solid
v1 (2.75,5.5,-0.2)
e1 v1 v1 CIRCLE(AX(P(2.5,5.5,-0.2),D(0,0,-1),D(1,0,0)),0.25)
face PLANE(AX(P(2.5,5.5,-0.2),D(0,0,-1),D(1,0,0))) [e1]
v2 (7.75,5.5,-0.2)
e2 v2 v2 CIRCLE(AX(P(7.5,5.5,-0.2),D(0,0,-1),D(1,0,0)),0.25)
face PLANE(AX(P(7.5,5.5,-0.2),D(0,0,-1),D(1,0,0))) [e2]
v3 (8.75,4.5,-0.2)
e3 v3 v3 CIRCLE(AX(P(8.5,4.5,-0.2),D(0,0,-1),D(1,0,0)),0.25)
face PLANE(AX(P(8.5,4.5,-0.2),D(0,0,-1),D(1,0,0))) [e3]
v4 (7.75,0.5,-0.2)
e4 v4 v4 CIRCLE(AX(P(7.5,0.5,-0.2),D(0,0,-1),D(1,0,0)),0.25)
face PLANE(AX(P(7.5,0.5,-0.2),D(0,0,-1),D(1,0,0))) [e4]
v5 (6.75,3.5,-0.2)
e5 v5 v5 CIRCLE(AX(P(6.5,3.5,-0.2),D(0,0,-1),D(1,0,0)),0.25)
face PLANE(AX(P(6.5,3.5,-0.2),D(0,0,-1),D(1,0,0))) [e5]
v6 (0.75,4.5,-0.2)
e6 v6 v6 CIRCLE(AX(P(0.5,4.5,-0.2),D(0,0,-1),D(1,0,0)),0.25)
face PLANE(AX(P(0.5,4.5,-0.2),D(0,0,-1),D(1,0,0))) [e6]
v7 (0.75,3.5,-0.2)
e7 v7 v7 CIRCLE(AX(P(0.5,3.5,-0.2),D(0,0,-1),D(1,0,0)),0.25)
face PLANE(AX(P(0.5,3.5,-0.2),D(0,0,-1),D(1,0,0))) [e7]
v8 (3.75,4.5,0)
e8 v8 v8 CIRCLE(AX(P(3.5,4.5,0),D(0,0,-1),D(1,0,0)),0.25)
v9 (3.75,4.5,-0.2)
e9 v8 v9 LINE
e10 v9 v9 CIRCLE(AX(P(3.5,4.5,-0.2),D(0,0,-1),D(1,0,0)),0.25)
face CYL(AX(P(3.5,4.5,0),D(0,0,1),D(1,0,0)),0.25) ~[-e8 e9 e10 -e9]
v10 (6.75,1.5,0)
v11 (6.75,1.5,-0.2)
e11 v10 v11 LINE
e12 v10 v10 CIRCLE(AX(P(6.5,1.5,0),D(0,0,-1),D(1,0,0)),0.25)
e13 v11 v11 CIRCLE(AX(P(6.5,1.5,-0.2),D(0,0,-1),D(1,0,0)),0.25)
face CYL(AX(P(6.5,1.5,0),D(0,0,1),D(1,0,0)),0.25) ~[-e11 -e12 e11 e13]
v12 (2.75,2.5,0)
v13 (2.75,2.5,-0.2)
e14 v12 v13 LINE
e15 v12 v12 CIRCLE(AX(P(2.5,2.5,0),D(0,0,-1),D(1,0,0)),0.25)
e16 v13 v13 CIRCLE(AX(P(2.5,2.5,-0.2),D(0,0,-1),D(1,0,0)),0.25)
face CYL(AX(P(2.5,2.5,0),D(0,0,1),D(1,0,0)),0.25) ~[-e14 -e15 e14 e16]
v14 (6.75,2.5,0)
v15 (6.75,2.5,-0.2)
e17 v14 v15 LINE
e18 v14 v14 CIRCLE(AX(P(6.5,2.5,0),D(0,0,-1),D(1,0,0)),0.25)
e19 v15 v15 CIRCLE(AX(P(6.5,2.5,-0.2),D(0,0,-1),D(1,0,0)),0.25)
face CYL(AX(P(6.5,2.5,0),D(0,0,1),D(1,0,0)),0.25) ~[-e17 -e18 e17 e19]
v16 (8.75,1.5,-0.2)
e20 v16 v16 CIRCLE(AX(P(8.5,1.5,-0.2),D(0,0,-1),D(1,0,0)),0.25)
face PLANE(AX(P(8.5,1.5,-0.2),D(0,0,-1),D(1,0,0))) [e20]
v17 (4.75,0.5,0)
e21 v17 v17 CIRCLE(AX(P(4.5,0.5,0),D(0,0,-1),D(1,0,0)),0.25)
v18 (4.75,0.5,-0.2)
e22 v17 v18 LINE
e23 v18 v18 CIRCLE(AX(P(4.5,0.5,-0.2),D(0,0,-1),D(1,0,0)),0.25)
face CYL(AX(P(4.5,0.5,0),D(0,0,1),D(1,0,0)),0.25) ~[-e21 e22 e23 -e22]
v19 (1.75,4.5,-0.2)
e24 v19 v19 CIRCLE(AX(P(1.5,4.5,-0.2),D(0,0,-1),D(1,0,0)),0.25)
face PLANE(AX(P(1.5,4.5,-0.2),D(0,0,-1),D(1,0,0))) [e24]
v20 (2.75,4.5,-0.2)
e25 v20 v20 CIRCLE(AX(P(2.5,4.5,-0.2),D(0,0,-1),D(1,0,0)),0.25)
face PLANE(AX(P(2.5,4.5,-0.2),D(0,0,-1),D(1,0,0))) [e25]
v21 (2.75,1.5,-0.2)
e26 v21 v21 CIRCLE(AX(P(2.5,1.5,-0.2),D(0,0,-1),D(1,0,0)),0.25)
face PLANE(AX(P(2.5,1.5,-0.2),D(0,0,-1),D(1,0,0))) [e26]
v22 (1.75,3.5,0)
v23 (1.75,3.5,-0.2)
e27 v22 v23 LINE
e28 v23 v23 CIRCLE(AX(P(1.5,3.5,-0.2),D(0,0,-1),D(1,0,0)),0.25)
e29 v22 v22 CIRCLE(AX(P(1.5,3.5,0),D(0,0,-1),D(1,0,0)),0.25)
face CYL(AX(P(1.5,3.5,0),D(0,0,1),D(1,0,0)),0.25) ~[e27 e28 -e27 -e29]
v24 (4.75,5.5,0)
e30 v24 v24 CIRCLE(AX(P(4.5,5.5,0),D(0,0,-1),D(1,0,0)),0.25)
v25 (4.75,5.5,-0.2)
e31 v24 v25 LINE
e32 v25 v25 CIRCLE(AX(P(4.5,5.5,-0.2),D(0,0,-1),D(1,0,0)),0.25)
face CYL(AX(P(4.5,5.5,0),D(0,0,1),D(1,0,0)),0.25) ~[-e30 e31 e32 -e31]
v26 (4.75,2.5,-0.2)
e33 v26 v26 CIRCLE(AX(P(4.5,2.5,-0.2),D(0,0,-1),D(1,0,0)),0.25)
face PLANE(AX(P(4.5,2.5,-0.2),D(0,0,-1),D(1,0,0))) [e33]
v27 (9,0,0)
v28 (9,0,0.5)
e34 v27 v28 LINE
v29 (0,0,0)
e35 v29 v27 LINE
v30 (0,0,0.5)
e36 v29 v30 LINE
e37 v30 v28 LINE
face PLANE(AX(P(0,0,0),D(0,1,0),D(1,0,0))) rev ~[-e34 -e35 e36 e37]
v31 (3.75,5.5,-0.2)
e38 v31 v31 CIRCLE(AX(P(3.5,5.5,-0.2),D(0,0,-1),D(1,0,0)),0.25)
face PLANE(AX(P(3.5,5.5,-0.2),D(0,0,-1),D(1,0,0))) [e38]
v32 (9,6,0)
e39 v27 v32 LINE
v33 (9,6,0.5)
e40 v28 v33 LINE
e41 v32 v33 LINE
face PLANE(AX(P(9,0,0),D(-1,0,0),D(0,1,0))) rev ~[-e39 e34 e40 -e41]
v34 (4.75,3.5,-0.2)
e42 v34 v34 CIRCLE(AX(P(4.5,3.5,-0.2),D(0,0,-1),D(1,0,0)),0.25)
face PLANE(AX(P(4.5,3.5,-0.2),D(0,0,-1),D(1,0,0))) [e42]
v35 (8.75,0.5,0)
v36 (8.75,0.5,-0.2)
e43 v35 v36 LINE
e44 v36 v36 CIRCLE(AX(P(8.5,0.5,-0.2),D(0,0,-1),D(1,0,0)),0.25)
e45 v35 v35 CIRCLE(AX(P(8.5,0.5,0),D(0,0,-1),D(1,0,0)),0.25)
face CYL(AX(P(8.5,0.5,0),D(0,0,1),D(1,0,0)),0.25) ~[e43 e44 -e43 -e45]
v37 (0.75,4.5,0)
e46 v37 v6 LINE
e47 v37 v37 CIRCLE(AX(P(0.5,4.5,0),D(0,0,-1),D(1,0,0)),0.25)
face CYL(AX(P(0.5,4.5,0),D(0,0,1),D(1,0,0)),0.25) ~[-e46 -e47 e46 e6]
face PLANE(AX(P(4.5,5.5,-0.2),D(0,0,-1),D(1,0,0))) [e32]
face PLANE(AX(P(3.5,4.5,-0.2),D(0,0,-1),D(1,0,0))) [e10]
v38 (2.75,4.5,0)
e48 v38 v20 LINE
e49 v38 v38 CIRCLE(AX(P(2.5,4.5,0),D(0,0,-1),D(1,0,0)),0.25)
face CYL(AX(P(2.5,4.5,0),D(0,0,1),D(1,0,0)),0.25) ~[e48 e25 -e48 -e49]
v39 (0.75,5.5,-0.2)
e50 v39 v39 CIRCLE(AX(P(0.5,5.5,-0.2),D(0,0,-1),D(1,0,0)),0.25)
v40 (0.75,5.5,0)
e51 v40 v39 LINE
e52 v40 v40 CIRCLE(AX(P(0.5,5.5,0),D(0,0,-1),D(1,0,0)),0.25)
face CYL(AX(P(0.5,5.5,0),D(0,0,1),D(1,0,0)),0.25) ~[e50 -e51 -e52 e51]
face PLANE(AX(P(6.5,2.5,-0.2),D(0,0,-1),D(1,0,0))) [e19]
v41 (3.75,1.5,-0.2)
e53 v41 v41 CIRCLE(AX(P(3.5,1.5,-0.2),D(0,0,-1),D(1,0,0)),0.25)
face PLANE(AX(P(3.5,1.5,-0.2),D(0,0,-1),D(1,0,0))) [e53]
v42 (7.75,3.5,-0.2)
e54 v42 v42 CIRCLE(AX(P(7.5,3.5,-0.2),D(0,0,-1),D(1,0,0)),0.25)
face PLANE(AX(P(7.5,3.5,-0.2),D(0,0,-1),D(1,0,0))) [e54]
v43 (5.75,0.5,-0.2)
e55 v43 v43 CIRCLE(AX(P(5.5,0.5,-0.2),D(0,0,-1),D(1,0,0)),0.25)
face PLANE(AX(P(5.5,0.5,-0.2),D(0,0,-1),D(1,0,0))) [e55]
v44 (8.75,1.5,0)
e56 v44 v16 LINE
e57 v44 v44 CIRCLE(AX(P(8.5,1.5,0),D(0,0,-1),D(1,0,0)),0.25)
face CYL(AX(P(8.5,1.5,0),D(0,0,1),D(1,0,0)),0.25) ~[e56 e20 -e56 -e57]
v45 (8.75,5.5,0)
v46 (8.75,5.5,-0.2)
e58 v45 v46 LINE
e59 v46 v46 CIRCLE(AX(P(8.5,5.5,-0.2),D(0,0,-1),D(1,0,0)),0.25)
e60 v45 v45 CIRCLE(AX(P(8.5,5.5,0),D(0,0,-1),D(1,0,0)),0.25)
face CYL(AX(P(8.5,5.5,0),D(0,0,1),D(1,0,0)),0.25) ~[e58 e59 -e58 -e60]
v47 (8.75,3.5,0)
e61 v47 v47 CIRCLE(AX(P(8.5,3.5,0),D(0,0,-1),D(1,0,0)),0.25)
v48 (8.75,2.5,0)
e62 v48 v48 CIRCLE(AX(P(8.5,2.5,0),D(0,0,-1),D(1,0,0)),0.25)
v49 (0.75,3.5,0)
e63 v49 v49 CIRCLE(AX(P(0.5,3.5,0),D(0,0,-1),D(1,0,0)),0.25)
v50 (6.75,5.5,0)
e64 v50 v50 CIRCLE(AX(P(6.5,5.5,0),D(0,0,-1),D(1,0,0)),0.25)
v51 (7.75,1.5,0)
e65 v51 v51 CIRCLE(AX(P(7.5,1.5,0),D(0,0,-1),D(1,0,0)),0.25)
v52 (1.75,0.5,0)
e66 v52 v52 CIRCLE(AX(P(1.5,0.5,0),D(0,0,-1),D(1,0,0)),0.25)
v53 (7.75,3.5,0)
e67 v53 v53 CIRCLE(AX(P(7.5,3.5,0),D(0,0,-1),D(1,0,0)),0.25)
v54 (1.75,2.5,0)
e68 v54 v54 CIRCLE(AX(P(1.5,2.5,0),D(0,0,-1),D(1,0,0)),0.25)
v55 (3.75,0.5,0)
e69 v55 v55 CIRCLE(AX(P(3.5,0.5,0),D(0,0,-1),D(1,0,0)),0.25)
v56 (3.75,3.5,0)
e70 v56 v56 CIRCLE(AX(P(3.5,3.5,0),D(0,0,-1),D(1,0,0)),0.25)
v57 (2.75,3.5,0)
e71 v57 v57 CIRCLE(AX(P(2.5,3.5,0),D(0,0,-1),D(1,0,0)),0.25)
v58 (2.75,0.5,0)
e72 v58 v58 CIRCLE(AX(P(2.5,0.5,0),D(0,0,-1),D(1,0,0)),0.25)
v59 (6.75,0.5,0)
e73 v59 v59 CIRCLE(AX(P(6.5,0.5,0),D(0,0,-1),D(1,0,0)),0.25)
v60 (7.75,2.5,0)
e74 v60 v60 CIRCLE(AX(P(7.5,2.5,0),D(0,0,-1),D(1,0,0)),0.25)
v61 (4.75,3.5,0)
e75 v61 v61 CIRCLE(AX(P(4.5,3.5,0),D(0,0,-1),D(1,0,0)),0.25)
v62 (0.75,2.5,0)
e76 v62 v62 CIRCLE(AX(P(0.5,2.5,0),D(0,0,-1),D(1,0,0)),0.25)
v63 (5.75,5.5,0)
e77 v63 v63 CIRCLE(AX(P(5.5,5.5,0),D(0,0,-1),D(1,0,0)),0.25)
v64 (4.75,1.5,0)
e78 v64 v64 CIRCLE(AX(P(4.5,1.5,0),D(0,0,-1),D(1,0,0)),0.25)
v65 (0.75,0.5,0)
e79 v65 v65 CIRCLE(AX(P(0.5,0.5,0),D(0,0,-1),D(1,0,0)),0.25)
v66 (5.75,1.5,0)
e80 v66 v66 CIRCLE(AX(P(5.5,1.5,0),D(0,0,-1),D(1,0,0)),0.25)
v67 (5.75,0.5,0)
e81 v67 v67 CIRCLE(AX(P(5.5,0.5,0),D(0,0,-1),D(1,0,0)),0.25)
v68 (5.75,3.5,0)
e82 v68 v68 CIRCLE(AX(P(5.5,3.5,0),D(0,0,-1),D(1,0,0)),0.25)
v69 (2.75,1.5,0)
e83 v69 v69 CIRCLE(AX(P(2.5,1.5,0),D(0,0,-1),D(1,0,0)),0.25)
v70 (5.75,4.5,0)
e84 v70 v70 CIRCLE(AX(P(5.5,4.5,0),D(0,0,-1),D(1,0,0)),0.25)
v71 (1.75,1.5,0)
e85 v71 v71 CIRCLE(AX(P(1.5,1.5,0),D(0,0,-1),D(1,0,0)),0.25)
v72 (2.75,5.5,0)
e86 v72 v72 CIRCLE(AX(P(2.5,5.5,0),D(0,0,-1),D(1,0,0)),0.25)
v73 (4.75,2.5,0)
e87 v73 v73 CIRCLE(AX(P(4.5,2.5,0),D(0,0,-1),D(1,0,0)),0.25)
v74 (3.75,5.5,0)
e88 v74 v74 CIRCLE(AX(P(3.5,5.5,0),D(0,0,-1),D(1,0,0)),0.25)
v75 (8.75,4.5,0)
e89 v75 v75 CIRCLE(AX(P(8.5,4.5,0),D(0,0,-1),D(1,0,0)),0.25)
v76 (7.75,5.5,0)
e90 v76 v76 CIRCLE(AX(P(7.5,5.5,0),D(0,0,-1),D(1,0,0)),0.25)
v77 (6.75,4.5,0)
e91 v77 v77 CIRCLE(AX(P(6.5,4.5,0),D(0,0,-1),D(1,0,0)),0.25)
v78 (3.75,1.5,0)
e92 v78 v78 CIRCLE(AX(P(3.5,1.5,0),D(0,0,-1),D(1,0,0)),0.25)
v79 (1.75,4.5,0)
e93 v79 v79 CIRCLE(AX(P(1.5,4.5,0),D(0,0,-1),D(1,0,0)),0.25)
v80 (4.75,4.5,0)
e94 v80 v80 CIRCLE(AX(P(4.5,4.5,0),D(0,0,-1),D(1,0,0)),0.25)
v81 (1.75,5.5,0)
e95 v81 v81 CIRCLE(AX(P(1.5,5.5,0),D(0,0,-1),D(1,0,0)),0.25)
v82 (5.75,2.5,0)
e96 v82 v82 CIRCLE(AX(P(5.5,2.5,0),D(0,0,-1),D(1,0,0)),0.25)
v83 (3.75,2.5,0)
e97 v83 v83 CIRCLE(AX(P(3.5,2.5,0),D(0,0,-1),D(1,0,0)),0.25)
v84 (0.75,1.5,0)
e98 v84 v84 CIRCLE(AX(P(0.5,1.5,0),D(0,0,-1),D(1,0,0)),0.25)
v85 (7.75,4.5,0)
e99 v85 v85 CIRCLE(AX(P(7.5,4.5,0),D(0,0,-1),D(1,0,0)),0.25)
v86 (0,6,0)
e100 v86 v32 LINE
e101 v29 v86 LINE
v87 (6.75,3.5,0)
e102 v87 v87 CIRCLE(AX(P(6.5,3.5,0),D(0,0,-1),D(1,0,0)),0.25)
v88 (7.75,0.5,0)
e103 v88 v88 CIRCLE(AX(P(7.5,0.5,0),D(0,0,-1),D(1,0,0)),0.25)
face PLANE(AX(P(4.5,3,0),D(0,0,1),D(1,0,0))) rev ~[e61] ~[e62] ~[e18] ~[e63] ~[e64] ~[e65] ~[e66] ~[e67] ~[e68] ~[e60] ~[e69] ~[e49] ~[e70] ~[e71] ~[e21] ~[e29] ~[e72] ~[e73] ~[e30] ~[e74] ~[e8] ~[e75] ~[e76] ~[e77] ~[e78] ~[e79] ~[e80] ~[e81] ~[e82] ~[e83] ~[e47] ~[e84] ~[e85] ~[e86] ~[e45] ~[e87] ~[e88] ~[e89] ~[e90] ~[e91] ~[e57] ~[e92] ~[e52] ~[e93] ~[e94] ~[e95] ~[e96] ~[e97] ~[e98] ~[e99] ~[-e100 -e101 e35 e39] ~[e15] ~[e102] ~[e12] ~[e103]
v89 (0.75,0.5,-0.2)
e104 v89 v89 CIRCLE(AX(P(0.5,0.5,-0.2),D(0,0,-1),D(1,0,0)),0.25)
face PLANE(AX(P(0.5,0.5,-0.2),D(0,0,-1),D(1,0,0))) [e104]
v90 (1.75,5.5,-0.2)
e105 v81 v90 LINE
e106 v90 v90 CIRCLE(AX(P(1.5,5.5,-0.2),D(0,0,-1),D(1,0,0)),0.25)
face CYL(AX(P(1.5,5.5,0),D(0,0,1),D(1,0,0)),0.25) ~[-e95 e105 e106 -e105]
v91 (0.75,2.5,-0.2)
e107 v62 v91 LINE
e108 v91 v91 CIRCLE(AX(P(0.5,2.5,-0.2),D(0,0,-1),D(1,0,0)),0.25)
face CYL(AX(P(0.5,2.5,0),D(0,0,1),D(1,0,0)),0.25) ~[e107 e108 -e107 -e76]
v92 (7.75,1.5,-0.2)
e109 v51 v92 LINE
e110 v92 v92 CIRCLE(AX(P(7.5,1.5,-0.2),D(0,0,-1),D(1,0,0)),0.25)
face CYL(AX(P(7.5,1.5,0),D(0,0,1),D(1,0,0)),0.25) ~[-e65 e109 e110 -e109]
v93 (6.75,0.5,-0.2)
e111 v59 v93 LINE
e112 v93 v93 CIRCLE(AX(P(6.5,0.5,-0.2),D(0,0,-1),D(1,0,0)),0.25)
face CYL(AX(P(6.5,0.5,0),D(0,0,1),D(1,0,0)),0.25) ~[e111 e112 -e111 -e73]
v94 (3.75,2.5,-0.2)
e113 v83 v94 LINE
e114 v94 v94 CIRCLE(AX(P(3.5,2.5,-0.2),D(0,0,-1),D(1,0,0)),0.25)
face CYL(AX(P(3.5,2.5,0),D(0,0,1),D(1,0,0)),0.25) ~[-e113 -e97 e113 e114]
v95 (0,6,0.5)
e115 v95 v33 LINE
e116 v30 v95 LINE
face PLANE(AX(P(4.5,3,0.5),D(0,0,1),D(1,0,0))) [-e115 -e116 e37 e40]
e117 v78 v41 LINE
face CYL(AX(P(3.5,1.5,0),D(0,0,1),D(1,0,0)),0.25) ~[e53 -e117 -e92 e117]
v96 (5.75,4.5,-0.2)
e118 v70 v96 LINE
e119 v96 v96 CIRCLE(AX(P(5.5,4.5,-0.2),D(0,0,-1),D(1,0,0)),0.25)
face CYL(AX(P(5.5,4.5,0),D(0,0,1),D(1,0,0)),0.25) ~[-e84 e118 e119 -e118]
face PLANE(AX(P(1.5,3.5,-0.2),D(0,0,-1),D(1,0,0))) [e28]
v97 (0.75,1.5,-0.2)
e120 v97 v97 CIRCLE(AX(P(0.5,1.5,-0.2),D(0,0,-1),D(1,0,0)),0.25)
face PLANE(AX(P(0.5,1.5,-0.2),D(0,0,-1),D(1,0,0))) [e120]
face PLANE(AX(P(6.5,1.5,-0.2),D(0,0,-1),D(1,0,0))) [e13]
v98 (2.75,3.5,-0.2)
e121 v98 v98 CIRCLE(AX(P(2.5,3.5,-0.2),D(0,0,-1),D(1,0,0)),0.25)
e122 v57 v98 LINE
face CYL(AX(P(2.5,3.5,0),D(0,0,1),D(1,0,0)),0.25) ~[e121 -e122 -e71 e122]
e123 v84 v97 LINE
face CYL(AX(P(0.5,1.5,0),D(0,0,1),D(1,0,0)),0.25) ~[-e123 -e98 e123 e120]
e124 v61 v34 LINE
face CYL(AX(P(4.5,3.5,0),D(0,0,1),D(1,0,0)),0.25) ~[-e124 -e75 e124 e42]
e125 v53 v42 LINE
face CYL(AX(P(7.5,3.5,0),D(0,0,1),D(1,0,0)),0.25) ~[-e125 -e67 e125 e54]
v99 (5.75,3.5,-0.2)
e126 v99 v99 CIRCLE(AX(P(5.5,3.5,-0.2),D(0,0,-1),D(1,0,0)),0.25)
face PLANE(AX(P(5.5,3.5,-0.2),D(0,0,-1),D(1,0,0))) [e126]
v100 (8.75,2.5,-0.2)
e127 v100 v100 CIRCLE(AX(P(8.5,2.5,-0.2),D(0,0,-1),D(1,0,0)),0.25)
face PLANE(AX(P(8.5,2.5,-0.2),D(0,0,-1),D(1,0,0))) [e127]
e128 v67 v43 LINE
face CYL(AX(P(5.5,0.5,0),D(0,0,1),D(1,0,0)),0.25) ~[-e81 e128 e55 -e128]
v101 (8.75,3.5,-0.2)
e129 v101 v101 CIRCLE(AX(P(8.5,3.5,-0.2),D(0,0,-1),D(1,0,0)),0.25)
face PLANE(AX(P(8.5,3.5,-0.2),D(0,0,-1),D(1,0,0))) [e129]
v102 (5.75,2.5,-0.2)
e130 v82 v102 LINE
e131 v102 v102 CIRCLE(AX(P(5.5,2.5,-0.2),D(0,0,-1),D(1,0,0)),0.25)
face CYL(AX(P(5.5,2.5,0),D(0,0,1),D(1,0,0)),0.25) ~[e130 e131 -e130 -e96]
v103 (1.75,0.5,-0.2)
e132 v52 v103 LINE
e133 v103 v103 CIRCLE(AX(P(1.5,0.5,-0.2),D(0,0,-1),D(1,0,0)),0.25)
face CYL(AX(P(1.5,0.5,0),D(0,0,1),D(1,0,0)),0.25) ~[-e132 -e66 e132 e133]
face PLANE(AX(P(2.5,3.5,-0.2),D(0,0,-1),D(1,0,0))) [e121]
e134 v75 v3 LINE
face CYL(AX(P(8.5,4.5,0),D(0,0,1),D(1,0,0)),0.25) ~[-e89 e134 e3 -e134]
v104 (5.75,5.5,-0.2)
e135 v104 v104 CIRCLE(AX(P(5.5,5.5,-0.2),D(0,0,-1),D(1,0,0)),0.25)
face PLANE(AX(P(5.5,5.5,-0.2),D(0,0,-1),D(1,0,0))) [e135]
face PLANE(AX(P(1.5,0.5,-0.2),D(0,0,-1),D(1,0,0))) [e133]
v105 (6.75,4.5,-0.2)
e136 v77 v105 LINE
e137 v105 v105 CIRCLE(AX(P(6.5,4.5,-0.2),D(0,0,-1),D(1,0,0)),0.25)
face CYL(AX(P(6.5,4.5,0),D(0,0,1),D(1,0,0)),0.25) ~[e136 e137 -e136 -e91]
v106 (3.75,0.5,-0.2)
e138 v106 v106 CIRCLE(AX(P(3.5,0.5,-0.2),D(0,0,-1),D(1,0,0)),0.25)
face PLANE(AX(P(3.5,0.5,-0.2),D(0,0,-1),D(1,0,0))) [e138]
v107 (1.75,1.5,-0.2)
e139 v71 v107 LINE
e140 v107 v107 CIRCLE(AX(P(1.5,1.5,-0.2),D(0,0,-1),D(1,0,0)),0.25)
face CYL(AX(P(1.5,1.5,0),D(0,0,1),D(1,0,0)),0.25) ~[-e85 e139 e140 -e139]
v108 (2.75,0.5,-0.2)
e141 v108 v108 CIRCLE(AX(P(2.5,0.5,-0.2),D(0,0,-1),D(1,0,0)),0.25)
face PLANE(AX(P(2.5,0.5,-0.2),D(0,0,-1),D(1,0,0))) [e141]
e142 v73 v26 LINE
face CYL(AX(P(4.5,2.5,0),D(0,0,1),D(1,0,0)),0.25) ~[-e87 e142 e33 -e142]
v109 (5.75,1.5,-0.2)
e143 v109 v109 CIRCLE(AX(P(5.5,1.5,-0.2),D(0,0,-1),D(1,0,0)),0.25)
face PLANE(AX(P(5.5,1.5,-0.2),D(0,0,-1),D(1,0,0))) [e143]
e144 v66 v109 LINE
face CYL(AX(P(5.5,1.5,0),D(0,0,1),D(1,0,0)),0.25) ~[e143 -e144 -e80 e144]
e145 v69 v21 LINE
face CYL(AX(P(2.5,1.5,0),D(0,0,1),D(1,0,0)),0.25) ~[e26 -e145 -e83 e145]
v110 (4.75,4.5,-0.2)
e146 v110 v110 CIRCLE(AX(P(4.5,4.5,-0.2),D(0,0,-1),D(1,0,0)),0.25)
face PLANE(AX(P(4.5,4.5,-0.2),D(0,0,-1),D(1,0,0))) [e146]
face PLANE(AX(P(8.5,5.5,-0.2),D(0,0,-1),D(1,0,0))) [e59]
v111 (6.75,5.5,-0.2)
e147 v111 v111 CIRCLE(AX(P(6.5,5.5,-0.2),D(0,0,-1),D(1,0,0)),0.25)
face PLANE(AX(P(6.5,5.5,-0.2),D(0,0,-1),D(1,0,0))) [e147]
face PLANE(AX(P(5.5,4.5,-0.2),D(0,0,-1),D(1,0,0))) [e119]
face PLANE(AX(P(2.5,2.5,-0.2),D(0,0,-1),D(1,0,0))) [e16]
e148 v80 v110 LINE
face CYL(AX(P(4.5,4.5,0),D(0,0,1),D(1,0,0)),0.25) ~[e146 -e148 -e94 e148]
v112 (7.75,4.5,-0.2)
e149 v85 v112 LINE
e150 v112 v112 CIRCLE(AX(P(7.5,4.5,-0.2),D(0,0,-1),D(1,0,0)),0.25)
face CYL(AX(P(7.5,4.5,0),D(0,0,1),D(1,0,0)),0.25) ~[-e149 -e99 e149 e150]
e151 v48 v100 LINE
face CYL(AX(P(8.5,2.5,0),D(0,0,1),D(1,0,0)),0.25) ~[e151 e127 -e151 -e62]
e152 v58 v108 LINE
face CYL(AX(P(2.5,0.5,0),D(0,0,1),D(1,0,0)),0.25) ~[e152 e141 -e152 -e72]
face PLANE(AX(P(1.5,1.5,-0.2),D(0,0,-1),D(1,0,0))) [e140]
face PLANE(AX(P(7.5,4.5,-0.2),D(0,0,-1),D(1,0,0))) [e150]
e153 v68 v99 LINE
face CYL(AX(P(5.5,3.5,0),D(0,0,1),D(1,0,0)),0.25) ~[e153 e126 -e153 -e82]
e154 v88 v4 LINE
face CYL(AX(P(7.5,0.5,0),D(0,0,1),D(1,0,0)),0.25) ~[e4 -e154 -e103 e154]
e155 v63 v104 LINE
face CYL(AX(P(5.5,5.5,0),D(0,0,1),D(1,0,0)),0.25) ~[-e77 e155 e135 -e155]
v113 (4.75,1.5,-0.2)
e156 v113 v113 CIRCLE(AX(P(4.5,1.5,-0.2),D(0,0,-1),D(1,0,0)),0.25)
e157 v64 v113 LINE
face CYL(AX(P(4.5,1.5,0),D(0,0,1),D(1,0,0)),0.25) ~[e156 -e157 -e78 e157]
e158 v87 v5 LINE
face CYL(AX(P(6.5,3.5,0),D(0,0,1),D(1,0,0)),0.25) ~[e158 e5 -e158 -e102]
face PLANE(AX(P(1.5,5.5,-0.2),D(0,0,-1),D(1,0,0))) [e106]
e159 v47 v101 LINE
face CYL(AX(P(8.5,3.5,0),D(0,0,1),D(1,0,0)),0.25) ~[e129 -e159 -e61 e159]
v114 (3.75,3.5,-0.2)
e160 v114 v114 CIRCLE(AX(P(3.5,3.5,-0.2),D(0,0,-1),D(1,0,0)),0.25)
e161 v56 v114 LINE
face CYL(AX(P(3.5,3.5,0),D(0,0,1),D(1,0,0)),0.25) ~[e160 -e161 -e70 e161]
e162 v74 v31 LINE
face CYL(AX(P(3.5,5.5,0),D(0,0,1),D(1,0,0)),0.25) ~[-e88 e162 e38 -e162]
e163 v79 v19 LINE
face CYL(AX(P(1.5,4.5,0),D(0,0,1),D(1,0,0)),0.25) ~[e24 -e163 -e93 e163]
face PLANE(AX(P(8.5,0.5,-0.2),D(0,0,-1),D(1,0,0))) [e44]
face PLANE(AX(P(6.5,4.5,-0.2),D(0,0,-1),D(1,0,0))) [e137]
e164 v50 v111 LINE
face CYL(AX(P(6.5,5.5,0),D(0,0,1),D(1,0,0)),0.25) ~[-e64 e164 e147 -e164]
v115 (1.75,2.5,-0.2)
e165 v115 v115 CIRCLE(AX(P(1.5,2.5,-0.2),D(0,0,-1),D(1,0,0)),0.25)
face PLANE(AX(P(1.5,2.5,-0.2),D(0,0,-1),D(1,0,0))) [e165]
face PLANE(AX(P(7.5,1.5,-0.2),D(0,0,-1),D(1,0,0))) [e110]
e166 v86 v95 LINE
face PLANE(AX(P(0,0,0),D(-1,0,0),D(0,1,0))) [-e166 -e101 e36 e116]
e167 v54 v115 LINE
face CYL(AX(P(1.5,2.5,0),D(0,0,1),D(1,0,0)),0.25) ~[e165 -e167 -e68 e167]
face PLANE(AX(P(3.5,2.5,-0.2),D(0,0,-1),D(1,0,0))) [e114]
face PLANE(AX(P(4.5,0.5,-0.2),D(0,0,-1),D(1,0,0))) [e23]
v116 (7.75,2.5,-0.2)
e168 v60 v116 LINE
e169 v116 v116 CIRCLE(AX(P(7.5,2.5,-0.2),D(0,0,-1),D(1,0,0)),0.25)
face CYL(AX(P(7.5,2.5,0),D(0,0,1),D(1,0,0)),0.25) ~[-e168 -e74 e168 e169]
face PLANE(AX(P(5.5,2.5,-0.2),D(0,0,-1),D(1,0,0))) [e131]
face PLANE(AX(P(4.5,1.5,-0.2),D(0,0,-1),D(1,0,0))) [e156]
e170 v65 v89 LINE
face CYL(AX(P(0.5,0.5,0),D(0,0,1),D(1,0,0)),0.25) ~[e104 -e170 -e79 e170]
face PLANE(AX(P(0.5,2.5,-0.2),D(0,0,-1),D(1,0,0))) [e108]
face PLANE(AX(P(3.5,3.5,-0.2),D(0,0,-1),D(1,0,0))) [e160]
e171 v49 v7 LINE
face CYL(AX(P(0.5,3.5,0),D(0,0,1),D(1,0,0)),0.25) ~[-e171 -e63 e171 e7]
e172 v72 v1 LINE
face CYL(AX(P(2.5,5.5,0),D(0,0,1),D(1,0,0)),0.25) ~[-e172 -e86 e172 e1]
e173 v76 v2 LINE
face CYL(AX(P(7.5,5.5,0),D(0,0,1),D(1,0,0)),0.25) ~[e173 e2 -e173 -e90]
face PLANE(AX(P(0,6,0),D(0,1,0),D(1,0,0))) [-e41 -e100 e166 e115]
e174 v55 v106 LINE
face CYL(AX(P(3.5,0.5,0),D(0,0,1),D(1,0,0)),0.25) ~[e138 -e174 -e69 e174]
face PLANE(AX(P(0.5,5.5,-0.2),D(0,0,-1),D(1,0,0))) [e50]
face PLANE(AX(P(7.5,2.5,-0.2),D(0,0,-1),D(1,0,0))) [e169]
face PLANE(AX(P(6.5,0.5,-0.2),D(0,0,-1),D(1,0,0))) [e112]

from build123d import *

# Parameters (mm, degrees)
F0_W     = 9
F0_H     = 6
F1_DEPTH = 0.5
F2_R     = 0.25
F3_DEPTH = 0.2


with BuildPart() as f1:
    # F0 (on Top) → F1 (new body)
    with BuildSketch(Plane.XY):
        with Locations((4.5, 3)):
            Rectangle(F0_W, F0_H)
    extrude(amount=F1_DEPTH)

    # F2 (on face) → F3 (join)
    with BuildSketch(Plane(origin=(0, 0, 0), x_dir=(1, 0, 0), z_dir=(0, 0, -1))):
        with Locations((0.5, -0.5)):
            Circle(F2_R)
        with Locations((1.5, -0.5)):
            Circle(F2_R)
        with Locations((2.5, -0.5)):
            Circle(F2_R)
        with Locations((3.5, -0.5)):
            Circle(F2_R)
        with Locations((4.5, -0.5)):
            Circle(F2_R)
        with Locations((5.5, -0.5)):
            Circle(F2_R)
        with Locations((6.5, -0.5)):
            Circle(F2_R)
        with Locations((7.5, -0.5)):
            Circle(F2_R)
        with Locations((8.5, -0.5)):
            Circle(F2_R)
        with Locations((8.5, -1.5)):
            Circle(F2_R)
        with Locations((7.5, -1.5)):
            Circle(F2_R)
        with Locations((6.5, -1.5)):
            Circle(F2_R)
        with Locations((5.5, -1.5)):
            Circle(F2_R)
        with Locations((4.5, -1.5)):
            Circle(F2_R)
        with Locations((3.5, -1.5)):
            Circle(F2_R)
        with Locations((2.5, -1.5)):
            Circle(F2_R)
        with Locations((1.5, -1.5)):
            Circle(F2_R)
        with Locations((0.5, -1.5)):
            Circle(F2_R)
        with Locations((8.5, -2.5)):
            Circle(F2_R)
        with Locations((7.5, -2.5)):
            Circle(F2_R)
        with Locations((6.5, -2.5)):
            Circle(F2_R)
        with Locations((5.5, -2.5)):
            Circle(F2_R)
        with Locations((4.5, -2.5)):
            Circle(F2_R)
        with Locations((3.5, -2.5)):
            Circle(F2_R)
        with Locations((2.5, -2.5)):
            Circle(F2_R)
        with Locations((1.5, -2.5)):
            Circle(F2_R)
        with Locations((0.5, -2.5)):
            Circle(F2_R)
        with Locations((8.5, -3.5)):
            Circle(F2_R)
        with Locations((7.5, -3.5)):
            Circle(F2_R)
        with Locations((6.5, -3.5)):
            Circle(F2_R)
        with Locations((5.5, -3.5)):
            Circle(F2_R)
        with Locations((4.5, -3.5)):
            Circle(F2_R)
        with Locations((3.5, -3.5)):
            Circle(F2_R)
        with Locations((2.5, -3.5)):
            Circle(F2_R)
        with Locations((1.5, -3.5)):
            Circle(F2_R)
        with Locations((0.5, -3.5)):
            Circle(F2_R)
        with Locations((8.5, -4.5)):
            Circle(F2_R)
        with Locations((7.5, -4.5)):
            Circle(F2_R)
        with Locations((6.5, -4.5)):
            Circle(F2_R)
        with Locations((5.5, -4.5)):
            Circle(F2_R)
        with Locations((4.5, -4.5)):
            Circle(F2_R)
        with Locations((3.5, -4.5)):
            Circle(F2_R)
        with Locations((2.5, -4.5)):
            Circle(F2_R)
        with Locations((1.5, -4.5)):
            Circle(F2_R)
        with Locations((0.5, -4.5)):
            Circle(F2_R)
        with Locations((8.5, -5.5)):
            Circle(F2_R)
        with Locations((7.5, -5.5)):
            Circle(F2_R)
        with Locations((6.5, -5.5)):
            Circle(F2_R)
        with Locations((5.5, -5.5)):
            Circle(F2_R)
        with Locations((4.5, -5.5)):
            Circle(F2_R)
        with Locations((3.5, -5.5)):
            Circle(F2_R)
        with Locations((2.5, -5.5)):
            Circle(F2_R)
        with Locations((1.5, -5.5)):
            Circle(F2_R)
        with Locations((0.5, -5.5)):
            Circle(F2_R)
    extrude(amount=F3_DEPTH)


solid = f1.part
